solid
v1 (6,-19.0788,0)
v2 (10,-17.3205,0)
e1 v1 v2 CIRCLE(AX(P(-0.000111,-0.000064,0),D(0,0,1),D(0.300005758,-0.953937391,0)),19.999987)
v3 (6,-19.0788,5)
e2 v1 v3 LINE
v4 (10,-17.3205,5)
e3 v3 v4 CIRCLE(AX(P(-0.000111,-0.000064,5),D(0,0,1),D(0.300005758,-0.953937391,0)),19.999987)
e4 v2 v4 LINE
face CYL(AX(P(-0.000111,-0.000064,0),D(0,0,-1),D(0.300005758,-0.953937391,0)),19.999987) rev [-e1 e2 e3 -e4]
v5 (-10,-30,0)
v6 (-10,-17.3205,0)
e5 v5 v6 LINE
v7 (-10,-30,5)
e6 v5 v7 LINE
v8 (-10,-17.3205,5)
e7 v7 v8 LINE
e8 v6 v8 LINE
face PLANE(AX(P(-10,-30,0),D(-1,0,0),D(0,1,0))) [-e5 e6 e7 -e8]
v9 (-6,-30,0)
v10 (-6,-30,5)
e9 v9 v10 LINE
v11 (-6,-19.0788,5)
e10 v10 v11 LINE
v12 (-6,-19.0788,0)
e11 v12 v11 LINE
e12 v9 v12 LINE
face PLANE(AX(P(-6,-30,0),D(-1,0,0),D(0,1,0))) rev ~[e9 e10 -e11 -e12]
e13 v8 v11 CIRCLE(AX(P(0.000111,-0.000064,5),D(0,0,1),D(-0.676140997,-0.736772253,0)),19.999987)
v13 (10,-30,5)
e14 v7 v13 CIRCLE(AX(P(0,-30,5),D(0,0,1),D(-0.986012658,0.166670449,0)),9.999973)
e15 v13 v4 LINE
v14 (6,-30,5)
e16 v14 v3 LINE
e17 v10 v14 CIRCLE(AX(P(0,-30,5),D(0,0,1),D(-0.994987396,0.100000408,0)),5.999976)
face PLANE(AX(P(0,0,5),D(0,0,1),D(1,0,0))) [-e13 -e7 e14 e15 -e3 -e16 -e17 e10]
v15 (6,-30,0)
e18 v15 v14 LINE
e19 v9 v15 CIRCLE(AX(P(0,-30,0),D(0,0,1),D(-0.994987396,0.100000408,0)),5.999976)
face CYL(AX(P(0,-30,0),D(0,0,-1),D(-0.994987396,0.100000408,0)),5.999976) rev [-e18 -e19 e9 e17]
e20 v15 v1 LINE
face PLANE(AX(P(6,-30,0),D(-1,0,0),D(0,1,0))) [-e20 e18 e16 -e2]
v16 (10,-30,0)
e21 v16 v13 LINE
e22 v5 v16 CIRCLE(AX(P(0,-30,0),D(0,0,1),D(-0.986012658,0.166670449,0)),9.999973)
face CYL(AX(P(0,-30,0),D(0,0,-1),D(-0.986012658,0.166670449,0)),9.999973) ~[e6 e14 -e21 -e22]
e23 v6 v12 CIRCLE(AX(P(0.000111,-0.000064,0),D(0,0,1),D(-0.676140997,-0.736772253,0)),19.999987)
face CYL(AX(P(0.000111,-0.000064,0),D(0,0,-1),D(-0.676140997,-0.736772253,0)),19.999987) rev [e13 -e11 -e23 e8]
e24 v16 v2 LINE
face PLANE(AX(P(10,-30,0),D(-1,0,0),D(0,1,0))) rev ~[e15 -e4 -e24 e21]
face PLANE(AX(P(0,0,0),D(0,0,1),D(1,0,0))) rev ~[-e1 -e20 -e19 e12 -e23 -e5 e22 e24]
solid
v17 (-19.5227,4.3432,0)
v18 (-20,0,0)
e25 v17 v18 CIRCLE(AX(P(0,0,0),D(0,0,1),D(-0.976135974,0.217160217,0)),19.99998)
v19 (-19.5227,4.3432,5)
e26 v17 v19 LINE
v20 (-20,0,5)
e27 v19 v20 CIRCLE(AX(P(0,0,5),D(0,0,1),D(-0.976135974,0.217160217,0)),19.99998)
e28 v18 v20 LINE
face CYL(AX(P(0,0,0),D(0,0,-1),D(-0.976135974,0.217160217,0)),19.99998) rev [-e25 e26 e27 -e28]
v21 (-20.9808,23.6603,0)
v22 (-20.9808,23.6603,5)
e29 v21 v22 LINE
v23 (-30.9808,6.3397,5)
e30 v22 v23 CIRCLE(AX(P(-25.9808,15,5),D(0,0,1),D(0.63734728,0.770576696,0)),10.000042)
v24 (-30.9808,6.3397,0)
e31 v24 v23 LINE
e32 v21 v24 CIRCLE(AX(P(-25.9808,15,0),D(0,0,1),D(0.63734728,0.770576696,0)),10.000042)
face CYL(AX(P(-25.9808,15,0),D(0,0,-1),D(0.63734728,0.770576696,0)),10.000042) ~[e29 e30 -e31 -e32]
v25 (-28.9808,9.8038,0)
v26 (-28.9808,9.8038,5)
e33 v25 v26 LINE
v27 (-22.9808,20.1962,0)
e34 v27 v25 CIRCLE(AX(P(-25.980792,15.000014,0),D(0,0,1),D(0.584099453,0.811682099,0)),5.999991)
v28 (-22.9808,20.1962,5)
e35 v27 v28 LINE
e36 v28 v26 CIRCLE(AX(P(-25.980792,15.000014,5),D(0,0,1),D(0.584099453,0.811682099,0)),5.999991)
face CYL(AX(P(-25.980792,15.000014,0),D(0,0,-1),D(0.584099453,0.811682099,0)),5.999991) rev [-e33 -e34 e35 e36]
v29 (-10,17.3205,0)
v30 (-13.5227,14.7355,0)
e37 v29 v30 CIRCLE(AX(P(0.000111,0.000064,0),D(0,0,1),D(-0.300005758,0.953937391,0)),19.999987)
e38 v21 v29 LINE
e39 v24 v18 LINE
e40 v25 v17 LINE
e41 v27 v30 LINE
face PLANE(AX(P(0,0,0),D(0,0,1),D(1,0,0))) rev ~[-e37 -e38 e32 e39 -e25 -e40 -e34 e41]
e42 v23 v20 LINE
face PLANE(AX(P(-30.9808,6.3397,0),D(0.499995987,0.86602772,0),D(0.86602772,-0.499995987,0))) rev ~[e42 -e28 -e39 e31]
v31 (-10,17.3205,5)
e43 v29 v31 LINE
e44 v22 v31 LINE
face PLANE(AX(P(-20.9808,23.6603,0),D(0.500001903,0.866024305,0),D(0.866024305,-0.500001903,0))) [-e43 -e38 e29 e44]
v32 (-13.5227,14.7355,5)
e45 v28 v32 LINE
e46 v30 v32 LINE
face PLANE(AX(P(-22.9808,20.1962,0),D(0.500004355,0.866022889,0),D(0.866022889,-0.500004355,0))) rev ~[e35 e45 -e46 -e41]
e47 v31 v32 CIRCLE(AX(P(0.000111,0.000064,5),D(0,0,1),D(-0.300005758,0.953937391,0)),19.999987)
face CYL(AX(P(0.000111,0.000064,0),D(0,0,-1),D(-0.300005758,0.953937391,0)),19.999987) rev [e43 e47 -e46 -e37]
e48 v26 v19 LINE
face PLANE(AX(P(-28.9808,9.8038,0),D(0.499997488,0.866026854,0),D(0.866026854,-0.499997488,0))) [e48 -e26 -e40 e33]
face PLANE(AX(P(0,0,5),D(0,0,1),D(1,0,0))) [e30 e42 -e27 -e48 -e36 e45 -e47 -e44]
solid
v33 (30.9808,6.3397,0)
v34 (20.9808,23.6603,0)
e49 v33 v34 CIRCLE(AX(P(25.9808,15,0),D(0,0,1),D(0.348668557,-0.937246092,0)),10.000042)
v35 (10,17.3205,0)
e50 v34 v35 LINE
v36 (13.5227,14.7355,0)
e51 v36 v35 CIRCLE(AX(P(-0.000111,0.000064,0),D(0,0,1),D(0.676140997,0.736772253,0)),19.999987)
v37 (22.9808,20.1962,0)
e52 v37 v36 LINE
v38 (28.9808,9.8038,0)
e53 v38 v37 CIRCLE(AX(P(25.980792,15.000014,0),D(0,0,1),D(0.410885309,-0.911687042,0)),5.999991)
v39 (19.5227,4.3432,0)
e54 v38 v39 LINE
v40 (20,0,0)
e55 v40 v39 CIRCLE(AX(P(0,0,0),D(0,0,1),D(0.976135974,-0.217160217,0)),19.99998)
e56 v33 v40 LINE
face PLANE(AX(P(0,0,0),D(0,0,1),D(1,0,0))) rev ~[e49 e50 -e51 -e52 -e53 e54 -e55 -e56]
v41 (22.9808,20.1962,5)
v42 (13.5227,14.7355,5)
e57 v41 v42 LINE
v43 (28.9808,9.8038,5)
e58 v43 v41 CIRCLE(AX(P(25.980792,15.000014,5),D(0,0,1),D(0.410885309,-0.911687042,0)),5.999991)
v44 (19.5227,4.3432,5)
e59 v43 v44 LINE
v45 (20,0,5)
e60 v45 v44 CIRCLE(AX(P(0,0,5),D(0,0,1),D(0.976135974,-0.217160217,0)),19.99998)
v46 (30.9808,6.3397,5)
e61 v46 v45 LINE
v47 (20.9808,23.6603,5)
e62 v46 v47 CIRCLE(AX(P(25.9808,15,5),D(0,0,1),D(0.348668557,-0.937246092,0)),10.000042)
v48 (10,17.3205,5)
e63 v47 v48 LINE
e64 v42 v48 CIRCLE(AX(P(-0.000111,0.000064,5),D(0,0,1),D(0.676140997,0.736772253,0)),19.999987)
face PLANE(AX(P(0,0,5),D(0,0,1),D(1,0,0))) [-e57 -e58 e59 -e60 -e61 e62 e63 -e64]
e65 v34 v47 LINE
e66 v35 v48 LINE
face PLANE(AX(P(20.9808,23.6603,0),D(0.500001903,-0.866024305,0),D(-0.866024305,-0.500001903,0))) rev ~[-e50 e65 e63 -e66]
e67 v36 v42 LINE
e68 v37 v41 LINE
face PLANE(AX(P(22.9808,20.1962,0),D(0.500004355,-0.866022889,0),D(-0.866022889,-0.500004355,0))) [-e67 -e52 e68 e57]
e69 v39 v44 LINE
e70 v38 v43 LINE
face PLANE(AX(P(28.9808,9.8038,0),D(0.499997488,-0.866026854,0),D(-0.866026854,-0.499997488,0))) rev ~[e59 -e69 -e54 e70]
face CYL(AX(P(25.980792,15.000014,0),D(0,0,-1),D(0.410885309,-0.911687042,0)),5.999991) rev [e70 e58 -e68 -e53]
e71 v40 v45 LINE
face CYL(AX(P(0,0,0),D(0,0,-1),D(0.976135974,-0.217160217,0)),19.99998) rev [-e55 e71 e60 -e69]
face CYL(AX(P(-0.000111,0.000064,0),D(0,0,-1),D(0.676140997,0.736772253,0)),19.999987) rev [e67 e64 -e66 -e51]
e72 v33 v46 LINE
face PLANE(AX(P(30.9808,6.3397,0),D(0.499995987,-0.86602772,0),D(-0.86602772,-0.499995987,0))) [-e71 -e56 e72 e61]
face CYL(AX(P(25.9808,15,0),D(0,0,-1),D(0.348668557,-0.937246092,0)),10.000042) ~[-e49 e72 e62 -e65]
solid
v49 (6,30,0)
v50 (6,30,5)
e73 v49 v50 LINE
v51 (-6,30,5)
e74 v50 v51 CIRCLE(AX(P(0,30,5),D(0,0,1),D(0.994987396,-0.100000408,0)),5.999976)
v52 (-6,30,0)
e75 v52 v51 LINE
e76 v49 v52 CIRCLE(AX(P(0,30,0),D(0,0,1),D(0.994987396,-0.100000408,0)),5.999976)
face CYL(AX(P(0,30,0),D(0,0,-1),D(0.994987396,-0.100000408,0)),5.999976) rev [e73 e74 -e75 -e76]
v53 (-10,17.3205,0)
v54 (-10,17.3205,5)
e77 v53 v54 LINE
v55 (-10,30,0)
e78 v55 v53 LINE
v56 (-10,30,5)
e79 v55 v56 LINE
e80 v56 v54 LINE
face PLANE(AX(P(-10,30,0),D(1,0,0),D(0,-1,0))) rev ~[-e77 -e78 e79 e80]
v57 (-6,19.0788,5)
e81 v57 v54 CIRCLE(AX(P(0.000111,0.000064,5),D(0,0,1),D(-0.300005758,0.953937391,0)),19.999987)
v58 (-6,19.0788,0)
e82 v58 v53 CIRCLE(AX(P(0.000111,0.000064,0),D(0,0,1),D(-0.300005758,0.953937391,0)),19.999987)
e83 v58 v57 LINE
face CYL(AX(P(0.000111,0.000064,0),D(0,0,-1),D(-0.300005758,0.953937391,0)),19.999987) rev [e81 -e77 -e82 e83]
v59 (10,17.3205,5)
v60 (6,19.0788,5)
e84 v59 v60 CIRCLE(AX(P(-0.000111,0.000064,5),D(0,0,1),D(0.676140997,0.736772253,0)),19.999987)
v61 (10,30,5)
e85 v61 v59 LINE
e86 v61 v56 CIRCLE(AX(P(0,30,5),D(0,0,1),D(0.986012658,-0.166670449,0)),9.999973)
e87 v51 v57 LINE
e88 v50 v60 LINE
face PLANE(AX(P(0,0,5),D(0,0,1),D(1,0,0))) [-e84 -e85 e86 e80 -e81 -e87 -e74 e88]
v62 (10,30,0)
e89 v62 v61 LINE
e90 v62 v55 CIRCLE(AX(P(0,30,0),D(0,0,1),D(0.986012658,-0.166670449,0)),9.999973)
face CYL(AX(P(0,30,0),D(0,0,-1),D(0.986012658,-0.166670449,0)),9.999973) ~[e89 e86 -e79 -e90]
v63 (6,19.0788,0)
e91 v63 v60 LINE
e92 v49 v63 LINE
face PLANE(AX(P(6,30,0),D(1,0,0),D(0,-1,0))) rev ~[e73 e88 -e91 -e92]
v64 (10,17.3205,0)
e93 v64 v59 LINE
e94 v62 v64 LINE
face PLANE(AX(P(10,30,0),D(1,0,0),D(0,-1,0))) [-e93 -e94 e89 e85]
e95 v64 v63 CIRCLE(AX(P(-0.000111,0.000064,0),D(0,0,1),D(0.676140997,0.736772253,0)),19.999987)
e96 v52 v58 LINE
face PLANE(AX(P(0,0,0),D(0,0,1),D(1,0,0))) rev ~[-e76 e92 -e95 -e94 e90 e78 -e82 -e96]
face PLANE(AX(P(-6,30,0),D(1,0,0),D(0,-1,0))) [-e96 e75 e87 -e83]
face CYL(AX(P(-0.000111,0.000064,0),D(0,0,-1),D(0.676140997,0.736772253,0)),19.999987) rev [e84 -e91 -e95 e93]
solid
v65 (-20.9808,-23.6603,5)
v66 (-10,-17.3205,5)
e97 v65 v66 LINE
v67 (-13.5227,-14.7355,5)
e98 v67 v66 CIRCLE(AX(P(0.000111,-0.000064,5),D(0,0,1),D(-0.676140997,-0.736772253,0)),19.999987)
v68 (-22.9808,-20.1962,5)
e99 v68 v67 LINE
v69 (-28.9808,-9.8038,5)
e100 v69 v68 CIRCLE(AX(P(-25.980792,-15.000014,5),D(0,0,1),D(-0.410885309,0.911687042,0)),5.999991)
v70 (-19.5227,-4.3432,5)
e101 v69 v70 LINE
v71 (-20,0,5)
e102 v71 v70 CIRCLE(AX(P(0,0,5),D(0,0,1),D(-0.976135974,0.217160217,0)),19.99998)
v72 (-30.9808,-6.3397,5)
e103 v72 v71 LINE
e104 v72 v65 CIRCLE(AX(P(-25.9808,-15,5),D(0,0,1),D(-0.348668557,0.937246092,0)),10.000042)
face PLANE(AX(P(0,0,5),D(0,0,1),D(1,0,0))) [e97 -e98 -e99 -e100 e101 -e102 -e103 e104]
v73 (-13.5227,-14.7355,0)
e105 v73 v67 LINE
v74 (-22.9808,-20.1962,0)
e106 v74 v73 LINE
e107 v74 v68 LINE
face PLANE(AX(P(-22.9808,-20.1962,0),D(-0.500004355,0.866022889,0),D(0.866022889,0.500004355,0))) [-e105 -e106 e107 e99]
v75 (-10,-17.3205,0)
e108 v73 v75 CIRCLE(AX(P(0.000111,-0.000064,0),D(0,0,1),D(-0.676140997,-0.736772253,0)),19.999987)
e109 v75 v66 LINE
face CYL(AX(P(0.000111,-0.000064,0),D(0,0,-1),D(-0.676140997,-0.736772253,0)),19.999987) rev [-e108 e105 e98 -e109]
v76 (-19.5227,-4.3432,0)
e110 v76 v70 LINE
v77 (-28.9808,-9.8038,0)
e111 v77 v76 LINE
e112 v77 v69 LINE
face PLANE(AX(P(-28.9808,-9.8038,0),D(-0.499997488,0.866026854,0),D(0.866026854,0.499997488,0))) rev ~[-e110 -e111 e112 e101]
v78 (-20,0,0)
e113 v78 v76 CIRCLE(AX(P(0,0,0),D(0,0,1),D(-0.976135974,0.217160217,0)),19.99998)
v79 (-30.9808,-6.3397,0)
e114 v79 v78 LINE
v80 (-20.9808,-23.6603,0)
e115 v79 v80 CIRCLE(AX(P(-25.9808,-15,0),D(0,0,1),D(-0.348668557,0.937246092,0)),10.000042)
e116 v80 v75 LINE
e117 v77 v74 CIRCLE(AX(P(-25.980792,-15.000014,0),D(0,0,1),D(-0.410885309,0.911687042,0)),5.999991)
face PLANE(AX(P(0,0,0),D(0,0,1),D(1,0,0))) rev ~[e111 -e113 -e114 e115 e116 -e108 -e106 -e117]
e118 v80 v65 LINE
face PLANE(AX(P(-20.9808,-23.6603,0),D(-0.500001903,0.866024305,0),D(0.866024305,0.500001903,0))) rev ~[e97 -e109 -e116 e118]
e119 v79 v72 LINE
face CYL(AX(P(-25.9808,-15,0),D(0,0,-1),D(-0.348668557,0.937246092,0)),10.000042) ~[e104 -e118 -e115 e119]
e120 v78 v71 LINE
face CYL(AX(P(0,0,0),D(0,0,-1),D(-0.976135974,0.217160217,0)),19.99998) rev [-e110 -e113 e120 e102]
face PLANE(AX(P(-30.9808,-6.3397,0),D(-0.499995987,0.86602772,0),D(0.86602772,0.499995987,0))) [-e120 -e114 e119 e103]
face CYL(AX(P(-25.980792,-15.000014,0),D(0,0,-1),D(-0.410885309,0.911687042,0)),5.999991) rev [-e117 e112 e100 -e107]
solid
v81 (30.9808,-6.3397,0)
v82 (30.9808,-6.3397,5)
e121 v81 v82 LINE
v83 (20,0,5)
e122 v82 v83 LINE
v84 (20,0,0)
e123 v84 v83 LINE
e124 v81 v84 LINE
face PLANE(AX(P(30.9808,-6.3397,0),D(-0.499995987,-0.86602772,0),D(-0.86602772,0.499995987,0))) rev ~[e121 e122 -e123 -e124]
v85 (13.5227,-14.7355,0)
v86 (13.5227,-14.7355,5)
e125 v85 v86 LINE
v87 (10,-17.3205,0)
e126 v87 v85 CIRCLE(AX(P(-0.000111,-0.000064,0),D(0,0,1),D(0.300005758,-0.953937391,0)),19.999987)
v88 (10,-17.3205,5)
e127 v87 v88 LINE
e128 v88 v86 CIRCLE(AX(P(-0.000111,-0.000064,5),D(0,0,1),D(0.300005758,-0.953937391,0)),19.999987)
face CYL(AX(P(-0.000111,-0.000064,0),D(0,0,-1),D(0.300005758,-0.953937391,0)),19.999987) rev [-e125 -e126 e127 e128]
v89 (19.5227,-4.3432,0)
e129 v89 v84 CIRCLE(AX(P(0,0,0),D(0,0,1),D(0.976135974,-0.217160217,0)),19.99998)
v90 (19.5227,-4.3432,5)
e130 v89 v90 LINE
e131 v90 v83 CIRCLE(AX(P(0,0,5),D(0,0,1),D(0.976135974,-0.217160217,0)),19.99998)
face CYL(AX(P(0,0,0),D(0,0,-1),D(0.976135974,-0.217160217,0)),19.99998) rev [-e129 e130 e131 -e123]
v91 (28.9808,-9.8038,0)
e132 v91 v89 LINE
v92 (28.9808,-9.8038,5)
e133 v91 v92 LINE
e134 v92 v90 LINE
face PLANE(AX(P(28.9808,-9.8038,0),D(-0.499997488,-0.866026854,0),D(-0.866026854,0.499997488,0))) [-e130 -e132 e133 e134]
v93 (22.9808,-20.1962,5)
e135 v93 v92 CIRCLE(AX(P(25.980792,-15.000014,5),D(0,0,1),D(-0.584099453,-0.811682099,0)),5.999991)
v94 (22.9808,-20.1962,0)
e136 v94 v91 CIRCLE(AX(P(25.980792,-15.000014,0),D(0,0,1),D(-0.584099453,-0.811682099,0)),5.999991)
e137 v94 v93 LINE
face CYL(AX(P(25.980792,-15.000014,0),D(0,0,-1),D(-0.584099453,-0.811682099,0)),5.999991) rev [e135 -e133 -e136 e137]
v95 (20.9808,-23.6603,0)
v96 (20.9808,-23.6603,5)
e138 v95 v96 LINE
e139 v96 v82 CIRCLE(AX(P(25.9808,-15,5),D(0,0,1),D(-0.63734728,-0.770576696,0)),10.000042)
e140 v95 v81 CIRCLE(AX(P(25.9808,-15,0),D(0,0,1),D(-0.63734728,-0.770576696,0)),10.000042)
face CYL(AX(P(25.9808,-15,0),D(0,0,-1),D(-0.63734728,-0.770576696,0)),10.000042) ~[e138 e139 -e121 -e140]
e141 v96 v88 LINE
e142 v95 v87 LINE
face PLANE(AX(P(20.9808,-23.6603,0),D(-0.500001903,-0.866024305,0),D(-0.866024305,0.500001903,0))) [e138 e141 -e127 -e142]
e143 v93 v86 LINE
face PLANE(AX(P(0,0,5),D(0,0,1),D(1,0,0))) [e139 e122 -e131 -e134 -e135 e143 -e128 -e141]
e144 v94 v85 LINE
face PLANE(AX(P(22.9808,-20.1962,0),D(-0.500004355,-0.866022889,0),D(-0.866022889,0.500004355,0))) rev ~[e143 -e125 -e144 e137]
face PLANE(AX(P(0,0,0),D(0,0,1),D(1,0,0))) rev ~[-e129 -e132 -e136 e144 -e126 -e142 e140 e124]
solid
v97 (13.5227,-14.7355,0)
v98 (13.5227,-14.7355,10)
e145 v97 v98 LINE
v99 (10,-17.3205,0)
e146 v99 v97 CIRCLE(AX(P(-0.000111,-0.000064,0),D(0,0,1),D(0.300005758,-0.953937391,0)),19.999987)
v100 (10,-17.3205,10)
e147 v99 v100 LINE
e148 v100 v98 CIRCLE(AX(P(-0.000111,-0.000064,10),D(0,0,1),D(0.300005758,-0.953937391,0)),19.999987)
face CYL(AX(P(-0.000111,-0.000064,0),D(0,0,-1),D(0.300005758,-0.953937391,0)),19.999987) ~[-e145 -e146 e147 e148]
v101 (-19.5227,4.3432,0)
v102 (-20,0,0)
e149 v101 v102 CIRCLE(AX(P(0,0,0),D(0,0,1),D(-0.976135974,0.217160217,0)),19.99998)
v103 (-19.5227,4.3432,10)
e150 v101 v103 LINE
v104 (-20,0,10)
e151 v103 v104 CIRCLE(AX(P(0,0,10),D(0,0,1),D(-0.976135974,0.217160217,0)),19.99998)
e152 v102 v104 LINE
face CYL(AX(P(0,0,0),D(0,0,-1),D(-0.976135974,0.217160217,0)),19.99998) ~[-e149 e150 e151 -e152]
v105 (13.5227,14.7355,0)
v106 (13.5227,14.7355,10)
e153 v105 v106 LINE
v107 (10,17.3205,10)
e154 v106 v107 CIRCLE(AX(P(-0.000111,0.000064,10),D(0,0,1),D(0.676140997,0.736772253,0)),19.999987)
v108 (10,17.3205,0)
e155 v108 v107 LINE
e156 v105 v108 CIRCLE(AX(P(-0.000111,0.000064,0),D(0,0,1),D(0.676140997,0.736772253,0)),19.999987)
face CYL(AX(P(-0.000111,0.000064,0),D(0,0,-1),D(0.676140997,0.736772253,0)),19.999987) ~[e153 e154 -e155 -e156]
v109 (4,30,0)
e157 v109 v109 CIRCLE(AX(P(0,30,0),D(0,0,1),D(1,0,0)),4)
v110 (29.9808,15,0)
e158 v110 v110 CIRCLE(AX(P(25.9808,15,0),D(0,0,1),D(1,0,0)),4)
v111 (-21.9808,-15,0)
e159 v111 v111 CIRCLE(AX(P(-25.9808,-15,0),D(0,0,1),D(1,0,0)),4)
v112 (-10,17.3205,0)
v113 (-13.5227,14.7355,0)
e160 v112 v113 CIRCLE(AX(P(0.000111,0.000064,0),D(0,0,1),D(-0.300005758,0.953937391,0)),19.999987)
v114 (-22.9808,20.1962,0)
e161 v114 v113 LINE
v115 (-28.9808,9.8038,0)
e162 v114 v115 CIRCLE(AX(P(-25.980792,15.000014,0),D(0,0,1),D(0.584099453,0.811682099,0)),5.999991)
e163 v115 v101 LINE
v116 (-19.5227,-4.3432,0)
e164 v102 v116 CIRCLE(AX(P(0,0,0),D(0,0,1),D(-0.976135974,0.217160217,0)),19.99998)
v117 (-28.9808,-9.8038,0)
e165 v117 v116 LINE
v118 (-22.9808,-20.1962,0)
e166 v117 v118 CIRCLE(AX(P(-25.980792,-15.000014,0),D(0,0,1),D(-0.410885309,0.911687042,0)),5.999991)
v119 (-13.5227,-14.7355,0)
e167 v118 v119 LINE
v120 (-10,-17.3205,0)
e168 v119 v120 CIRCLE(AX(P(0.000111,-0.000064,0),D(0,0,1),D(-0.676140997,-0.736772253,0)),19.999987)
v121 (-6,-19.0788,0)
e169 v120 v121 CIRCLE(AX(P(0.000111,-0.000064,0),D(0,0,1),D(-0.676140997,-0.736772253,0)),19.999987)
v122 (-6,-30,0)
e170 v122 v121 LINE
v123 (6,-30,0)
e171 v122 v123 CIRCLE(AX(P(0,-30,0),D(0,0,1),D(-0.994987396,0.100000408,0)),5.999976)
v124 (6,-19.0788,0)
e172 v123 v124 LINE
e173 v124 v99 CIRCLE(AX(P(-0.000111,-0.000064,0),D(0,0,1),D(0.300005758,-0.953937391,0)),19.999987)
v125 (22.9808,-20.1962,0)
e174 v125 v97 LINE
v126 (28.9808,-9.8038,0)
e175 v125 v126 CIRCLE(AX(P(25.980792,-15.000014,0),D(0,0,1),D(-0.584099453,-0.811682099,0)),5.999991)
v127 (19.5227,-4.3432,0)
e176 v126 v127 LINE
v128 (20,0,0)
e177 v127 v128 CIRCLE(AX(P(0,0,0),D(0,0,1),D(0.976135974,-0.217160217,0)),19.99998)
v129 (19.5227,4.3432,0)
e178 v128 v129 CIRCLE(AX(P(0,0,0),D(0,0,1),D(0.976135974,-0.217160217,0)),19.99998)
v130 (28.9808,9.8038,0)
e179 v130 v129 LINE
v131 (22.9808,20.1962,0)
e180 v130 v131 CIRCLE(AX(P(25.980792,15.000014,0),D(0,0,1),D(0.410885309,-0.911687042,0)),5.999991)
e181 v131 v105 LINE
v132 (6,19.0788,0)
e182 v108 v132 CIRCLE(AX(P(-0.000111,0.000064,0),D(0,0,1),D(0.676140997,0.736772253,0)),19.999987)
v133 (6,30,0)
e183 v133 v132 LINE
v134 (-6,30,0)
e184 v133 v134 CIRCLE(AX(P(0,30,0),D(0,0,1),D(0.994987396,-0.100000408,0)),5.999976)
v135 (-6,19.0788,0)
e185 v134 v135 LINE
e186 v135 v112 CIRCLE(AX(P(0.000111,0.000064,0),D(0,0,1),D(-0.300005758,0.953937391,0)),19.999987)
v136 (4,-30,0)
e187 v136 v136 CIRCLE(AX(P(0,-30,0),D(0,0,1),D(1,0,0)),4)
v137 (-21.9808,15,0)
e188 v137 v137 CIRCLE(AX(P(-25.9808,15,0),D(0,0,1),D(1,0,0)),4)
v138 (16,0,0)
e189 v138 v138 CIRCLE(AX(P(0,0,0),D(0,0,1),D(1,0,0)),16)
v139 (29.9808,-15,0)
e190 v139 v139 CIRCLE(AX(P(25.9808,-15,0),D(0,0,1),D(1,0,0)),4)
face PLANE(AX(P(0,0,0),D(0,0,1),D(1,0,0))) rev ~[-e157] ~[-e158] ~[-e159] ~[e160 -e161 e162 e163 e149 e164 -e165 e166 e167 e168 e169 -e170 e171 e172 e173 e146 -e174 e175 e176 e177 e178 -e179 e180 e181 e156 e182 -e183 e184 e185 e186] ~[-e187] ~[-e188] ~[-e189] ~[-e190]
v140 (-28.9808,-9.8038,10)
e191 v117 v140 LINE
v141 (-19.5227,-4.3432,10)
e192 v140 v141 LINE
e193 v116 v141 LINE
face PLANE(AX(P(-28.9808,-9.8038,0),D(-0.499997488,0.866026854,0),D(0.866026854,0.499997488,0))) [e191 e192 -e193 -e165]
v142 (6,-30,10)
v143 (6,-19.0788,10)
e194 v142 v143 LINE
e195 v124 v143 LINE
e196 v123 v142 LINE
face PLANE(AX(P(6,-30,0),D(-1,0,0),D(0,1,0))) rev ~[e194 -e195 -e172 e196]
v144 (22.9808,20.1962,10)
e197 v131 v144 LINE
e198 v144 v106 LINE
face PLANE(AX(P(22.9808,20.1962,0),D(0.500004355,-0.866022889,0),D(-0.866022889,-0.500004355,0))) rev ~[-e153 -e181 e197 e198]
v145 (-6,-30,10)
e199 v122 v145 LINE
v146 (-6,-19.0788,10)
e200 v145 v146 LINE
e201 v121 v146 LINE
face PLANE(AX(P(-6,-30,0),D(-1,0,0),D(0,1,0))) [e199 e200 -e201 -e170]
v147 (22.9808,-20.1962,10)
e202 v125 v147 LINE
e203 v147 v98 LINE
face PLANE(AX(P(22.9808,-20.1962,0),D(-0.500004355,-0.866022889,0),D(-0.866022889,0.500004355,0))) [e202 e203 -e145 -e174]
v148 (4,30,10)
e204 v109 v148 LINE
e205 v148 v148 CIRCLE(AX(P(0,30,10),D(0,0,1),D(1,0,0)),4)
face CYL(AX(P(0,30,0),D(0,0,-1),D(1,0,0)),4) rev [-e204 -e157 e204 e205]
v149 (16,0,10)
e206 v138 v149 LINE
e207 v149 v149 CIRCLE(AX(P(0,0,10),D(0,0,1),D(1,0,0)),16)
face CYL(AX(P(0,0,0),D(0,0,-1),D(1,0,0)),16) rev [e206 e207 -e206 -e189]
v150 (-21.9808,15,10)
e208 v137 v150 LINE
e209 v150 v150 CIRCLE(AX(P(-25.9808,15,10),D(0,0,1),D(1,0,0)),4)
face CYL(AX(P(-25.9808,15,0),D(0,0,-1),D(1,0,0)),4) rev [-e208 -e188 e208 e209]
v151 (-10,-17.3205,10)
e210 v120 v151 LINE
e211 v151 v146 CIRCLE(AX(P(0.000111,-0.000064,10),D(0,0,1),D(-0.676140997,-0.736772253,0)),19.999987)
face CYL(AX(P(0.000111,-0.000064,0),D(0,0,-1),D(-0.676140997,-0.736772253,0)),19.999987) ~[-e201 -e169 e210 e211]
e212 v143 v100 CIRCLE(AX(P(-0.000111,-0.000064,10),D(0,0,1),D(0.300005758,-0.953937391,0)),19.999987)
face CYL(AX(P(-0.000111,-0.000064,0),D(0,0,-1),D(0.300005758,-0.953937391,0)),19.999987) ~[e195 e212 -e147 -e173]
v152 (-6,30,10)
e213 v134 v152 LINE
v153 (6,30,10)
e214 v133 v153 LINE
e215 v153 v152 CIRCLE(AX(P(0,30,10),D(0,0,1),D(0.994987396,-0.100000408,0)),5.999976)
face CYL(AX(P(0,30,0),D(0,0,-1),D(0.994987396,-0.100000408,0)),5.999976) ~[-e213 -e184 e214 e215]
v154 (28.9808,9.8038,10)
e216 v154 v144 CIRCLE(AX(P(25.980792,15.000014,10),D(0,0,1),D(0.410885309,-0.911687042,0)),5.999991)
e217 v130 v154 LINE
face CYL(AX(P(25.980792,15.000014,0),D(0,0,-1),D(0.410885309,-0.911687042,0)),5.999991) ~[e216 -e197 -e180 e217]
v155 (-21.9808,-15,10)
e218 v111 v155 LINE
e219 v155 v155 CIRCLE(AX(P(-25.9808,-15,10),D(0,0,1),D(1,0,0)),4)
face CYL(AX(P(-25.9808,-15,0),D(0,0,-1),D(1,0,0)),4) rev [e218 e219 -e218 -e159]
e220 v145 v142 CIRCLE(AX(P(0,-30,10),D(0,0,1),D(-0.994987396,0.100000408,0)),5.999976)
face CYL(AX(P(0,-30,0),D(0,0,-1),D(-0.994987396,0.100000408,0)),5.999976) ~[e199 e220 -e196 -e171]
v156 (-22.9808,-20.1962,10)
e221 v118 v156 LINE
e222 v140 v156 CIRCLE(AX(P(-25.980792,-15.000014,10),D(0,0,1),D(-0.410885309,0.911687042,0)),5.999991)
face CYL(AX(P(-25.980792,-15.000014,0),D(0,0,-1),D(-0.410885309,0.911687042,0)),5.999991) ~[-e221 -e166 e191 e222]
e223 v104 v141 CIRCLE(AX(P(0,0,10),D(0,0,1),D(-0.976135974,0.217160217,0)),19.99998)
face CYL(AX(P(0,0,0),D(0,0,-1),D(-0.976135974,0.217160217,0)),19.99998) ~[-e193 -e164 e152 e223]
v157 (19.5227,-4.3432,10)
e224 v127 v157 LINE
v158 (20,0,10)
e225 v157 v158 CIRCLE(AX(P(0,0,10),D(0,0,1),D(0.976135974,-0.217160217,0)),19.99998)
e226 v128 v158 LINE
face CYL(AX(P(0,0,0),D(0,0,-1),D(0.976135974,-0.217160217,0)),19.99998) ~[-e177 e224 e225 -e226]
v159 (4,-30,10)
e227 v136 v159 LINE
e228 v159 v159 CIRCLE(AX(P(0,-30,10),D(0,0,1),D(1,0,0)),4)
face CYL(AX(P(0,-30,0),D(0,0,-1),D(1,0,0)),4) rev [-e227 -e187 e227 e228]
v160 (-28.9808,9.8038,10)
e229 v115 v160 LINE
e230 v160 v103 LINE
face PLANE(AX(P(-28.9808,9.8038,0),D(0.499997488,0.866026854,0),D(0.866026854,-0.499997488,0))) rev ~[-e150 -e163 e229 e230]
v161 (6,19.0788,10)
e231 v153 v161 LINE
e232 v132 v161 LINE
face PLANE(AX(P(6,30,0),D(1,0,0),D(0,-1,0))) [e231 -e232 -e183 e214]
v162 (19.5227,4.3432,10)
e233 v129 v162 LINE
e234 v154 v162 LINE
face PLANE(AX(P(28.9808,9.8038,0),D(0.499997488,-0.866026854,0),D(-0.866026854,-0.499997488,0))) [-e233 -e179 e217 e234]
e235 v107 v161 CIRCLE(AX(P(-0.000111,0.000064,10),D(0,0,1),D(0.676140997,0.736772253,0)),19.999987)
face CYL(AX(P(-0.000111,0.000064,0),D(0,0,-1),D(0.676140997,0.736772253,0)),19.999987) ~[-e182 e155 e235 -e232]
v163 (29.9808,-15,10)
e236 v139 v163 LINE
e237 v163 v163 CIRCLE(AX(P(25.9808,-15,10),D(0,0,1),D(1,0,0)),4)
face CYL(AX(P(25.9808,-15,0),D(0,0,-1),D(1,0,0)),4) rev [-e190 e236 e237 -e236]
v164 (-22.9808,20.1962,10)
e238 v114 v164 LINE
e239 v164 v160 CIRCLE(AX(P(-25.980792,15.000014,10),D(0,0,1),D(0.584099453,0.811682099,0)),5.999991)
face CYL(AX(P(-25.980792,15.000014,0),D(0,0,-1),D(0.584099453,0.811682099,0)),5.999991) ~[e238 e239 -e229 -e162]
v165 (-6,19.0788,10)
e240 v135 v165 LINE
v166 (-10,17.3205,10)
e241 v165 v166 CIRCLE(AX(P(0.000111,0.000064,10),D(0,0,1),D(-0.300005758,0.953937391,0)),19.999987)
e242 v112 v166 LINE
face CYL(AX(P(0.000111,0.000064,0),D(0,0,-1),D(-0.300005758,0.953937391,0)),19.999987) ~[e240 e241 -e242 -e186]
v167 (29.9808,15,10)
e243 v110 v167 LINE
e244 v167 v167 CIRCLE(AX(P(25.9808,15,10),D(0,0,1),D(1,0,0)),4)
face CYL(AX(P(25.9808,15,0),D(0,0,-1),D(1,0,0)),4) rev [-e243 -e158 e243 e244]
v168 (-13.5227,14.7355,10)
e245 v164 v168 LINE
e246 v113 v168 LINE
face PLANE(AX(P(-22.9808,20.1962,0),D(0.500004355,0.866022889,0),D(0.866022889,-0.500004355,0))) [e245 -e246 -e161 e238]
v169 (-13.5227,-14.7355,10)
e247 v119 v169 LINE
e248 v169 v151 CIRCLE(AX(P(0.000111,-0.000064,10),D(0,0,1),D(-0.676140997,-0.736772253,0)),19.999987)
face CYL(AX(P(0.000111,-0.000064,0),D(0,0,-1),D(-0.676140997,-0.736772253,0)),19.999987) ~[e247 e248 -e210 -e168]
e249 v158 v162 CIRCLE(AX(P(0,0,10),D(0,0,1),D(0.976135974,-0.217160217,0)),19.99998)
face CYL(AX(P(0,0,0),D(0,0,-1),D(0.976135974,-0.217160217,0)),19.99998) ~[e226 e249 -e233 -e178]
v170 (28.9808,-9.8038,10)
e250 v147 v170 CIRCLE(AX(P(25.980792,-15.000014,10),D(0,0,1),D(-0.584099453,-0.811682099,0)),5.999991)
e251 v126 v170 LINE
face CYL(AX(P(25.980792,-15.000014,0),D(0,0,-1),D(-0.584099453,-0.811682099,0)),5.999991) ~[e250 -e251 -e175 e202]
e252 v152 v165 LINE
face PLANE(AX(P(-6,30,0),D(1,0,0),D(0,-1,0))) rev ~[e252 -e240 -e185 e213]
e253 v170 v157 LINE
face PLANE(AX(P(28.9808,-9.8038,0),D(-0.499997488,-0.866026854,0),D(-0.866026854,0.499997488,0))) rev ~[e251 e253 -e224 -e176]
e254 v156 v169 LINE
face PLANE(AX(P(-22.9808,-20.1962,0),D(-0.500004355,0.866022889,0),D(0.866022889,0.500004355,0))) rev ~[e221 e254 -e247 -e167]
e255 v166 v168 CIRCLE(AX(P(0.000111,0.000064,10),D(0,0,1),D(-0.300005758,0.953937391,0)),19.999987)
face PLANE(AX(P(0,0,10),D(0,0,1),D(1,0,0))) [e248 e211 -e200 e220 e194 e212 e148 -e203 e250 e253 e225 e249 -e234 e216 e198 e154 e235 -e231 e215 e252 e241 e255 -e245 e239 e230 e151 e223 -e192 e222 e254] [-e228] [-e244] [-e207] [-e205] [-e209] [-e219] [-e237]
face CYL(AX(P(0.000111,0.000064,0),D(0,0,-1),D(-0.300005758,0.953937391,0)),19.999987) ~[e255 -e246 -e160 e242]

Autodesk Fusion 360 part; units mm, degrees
sketch "Sketch1" plane through (0, 0, 0) normal (0, 0, 1) x (1, 0, 0)
  circle A0 centre (0, 0) radius 16
  circle A1 centre (0, 0) radius 30 construction
  line L0 (0, 0) -> (0, 30) construction
  line L1 (0, 0) -> (30, 0) construction
  line L2 (0, 0) -> (-30, 0) construction
  line L3 (0, 0) -> (0, -30) construction
  circle A2 centre (0, 30) radius 4
  line L4 (0, 30) -> (10, 30) construction
  line L5 (10, 30) -> (10, 17.3205)
  line L6 (0, 30) -> (-10, 30) construction
  line L7 (-10, 30) -> (-10, 17.3205)
  line L8 (-6, 30) -> (-6, 19.0788)
  line L9 (6, 30) -> (6, 19.0788)
  arc A3 (5.9699, 29.4) -> (-5.9699, 29.4) centre (0, 30) ccw
  arc A4 (9.8601, 28.3333) -> (-9.8601, 28.3333) centre (0, 30) ccw
  line L10 (-30.9808, 6.3397) -> (-20, 0)
  arc A5 (-19.6073, 22.7058) -> (-29.4675, 5.6275) centre (-25.9808, 15) ccw
  line L11 (-20.9808, 23.6603) -> (-10, 17.3205)
  line L12 (-22.9808, 20.1962) -> (-13.5227, 14.7355)
  line L13 (-28.9808, 9.8038) -> (-19.5227, 4.3432)
  arc A6 (-22.4762, 19.8701) -> (-28.4461, 9.5299) centre (-25.9808, 15) ccw
  circle A7 centre (-25.9808, 15) radius 4
  line L14 (-20.9808, -23.6603) -> (-10, -17.3205)
  arc A8 (-29.4675, -5.6275) -> (-19.6073, -22.7058) centre (-25.9808, -15) ccw
  line L15 (-30.9808, -6.3397) -> (-20, 0)
  line L16 (-28.9808, -9.8038) -> (-19.5227, -4.3432)
  line L17 (-22.9808, -20.1962) -> (-13.5227, -14.7355)
  arc A9 (-28.4461, -9.5299) -> (-22.4762, -19.8701) centre (-25.9808, -15) ccw
  circle A10 centre (-25.9808, -15) radius 4
  line L18 (10, -30) -> (10, -17.3205)
  arc A11 (-9.8601, -28.3333) -> (9.8601, -28.3333) centre (0, -30) ccw
  line L19 (-10, -30) -> (-10, -17.3205)
  line L20 (-6, -30) -> (-6, -19.0788)
  line L21 (6, -30) -> (6, -19.0788)
  arc A12 (-5.9699, -29.4) -> (5.9699, -29.4) centre (0, -30) ccw
  circle A13 centre (0, -30) radius 4
  line L22 (30.9808, -6.3397) -> (20, 0)
  arc A14 (19.6073, -22.7058) -> (29.4675, -5.6275) centre (25.9808, -15) ccw
  line L23 (20.9808, -23.6603) -> (10, -17.3205)
  line L24 (22.9808, -20.1962) -> (13.5227, -14.7355)
  line L25 (28.9808, -9.8038) -> (19.5227, -4.3432)
  arc A15 (22.4762, -19.8701) -> (28.4461, -9.5299) centre (25.9808, -15) ccw
  circle A16 centre (25.9808, -15) radius 4
  line L26 (20.9808, 23.6603) -> (10, 17.3205)
  arc A17 (29.4675, 5.6275) -> (19.6073, 22.7058) centre (25.9808, 15) ccw
  line L27 (30.9808, 6.3397) -> (20, 0)
  line L28 (28.9808, 9.8038) -> (19.5227, 4.3432)
  line L29 (22.9808, 20.1962) -> (13.5227, 14.7355)
  arc A18 (28.4461, 9.5299) -> (22.4762, 19.8701) centre (25.9808, 15) ccw
  circle A19 centre (25.9808, 15) radius 4
  arc A20 (-6, 19.0788) -> (-13.5227, 14.7355) centre (0, 0) ccw
  arc A21 (13.5227, 14.7355) -> (6, 19.0788) centre (0, 0) ccw
  arc A22 (19.5227, -4.3432) -> (19.5227, 4.3432) centre (0, 0) ccw
  arc A23 (6, -19.0788) -> (13.5227, -14.7355) centre (0, 0) ccw
  arc A24 (-19.5227, 4.3432) -> (-19.5227, -4.3432) centre (0, 0) ccw
  arc A25 (-13.5227, -14.7355) -> (-6, -19.0788) centre (0, 0) ccw
  dimension "d1" = 32
  dimension "d2" = 40
  dimension "d3" = 60
  dimension "d4" = 8
  dimension "d5" = 12
  dimension "d6" = 20
  dimension "d8" = 360
extrude "Extrude1" add sketch "Sketch1" along normal blind 10 contours L8 L9 A3 L12 L13 A6 L16 L17 A9 L20 L21 A12 L24 L25 A15 L28 L29 A18 A20 A21 A22 A23 A24 A25 makes body 1
extrude "Extrude2" add sketch "Sketch1" along normal blind 5 separate body contours L5 L7 L8 L9 A3 A4 A20 A21 | L26 A17 L27 L28 L29 A18 A21 A22 | L10 A5 L11 L12 L13 A6 A20 A24 | L22 A14 L23 L24 L25 A15 A22 A23 | L14 A8 L15 L16 L17 A9 A24 A25 | L18 A11 L19 L20 L21 A12 A23 A25 makes body 2 at (-26.4947, 6.8289, 0)
